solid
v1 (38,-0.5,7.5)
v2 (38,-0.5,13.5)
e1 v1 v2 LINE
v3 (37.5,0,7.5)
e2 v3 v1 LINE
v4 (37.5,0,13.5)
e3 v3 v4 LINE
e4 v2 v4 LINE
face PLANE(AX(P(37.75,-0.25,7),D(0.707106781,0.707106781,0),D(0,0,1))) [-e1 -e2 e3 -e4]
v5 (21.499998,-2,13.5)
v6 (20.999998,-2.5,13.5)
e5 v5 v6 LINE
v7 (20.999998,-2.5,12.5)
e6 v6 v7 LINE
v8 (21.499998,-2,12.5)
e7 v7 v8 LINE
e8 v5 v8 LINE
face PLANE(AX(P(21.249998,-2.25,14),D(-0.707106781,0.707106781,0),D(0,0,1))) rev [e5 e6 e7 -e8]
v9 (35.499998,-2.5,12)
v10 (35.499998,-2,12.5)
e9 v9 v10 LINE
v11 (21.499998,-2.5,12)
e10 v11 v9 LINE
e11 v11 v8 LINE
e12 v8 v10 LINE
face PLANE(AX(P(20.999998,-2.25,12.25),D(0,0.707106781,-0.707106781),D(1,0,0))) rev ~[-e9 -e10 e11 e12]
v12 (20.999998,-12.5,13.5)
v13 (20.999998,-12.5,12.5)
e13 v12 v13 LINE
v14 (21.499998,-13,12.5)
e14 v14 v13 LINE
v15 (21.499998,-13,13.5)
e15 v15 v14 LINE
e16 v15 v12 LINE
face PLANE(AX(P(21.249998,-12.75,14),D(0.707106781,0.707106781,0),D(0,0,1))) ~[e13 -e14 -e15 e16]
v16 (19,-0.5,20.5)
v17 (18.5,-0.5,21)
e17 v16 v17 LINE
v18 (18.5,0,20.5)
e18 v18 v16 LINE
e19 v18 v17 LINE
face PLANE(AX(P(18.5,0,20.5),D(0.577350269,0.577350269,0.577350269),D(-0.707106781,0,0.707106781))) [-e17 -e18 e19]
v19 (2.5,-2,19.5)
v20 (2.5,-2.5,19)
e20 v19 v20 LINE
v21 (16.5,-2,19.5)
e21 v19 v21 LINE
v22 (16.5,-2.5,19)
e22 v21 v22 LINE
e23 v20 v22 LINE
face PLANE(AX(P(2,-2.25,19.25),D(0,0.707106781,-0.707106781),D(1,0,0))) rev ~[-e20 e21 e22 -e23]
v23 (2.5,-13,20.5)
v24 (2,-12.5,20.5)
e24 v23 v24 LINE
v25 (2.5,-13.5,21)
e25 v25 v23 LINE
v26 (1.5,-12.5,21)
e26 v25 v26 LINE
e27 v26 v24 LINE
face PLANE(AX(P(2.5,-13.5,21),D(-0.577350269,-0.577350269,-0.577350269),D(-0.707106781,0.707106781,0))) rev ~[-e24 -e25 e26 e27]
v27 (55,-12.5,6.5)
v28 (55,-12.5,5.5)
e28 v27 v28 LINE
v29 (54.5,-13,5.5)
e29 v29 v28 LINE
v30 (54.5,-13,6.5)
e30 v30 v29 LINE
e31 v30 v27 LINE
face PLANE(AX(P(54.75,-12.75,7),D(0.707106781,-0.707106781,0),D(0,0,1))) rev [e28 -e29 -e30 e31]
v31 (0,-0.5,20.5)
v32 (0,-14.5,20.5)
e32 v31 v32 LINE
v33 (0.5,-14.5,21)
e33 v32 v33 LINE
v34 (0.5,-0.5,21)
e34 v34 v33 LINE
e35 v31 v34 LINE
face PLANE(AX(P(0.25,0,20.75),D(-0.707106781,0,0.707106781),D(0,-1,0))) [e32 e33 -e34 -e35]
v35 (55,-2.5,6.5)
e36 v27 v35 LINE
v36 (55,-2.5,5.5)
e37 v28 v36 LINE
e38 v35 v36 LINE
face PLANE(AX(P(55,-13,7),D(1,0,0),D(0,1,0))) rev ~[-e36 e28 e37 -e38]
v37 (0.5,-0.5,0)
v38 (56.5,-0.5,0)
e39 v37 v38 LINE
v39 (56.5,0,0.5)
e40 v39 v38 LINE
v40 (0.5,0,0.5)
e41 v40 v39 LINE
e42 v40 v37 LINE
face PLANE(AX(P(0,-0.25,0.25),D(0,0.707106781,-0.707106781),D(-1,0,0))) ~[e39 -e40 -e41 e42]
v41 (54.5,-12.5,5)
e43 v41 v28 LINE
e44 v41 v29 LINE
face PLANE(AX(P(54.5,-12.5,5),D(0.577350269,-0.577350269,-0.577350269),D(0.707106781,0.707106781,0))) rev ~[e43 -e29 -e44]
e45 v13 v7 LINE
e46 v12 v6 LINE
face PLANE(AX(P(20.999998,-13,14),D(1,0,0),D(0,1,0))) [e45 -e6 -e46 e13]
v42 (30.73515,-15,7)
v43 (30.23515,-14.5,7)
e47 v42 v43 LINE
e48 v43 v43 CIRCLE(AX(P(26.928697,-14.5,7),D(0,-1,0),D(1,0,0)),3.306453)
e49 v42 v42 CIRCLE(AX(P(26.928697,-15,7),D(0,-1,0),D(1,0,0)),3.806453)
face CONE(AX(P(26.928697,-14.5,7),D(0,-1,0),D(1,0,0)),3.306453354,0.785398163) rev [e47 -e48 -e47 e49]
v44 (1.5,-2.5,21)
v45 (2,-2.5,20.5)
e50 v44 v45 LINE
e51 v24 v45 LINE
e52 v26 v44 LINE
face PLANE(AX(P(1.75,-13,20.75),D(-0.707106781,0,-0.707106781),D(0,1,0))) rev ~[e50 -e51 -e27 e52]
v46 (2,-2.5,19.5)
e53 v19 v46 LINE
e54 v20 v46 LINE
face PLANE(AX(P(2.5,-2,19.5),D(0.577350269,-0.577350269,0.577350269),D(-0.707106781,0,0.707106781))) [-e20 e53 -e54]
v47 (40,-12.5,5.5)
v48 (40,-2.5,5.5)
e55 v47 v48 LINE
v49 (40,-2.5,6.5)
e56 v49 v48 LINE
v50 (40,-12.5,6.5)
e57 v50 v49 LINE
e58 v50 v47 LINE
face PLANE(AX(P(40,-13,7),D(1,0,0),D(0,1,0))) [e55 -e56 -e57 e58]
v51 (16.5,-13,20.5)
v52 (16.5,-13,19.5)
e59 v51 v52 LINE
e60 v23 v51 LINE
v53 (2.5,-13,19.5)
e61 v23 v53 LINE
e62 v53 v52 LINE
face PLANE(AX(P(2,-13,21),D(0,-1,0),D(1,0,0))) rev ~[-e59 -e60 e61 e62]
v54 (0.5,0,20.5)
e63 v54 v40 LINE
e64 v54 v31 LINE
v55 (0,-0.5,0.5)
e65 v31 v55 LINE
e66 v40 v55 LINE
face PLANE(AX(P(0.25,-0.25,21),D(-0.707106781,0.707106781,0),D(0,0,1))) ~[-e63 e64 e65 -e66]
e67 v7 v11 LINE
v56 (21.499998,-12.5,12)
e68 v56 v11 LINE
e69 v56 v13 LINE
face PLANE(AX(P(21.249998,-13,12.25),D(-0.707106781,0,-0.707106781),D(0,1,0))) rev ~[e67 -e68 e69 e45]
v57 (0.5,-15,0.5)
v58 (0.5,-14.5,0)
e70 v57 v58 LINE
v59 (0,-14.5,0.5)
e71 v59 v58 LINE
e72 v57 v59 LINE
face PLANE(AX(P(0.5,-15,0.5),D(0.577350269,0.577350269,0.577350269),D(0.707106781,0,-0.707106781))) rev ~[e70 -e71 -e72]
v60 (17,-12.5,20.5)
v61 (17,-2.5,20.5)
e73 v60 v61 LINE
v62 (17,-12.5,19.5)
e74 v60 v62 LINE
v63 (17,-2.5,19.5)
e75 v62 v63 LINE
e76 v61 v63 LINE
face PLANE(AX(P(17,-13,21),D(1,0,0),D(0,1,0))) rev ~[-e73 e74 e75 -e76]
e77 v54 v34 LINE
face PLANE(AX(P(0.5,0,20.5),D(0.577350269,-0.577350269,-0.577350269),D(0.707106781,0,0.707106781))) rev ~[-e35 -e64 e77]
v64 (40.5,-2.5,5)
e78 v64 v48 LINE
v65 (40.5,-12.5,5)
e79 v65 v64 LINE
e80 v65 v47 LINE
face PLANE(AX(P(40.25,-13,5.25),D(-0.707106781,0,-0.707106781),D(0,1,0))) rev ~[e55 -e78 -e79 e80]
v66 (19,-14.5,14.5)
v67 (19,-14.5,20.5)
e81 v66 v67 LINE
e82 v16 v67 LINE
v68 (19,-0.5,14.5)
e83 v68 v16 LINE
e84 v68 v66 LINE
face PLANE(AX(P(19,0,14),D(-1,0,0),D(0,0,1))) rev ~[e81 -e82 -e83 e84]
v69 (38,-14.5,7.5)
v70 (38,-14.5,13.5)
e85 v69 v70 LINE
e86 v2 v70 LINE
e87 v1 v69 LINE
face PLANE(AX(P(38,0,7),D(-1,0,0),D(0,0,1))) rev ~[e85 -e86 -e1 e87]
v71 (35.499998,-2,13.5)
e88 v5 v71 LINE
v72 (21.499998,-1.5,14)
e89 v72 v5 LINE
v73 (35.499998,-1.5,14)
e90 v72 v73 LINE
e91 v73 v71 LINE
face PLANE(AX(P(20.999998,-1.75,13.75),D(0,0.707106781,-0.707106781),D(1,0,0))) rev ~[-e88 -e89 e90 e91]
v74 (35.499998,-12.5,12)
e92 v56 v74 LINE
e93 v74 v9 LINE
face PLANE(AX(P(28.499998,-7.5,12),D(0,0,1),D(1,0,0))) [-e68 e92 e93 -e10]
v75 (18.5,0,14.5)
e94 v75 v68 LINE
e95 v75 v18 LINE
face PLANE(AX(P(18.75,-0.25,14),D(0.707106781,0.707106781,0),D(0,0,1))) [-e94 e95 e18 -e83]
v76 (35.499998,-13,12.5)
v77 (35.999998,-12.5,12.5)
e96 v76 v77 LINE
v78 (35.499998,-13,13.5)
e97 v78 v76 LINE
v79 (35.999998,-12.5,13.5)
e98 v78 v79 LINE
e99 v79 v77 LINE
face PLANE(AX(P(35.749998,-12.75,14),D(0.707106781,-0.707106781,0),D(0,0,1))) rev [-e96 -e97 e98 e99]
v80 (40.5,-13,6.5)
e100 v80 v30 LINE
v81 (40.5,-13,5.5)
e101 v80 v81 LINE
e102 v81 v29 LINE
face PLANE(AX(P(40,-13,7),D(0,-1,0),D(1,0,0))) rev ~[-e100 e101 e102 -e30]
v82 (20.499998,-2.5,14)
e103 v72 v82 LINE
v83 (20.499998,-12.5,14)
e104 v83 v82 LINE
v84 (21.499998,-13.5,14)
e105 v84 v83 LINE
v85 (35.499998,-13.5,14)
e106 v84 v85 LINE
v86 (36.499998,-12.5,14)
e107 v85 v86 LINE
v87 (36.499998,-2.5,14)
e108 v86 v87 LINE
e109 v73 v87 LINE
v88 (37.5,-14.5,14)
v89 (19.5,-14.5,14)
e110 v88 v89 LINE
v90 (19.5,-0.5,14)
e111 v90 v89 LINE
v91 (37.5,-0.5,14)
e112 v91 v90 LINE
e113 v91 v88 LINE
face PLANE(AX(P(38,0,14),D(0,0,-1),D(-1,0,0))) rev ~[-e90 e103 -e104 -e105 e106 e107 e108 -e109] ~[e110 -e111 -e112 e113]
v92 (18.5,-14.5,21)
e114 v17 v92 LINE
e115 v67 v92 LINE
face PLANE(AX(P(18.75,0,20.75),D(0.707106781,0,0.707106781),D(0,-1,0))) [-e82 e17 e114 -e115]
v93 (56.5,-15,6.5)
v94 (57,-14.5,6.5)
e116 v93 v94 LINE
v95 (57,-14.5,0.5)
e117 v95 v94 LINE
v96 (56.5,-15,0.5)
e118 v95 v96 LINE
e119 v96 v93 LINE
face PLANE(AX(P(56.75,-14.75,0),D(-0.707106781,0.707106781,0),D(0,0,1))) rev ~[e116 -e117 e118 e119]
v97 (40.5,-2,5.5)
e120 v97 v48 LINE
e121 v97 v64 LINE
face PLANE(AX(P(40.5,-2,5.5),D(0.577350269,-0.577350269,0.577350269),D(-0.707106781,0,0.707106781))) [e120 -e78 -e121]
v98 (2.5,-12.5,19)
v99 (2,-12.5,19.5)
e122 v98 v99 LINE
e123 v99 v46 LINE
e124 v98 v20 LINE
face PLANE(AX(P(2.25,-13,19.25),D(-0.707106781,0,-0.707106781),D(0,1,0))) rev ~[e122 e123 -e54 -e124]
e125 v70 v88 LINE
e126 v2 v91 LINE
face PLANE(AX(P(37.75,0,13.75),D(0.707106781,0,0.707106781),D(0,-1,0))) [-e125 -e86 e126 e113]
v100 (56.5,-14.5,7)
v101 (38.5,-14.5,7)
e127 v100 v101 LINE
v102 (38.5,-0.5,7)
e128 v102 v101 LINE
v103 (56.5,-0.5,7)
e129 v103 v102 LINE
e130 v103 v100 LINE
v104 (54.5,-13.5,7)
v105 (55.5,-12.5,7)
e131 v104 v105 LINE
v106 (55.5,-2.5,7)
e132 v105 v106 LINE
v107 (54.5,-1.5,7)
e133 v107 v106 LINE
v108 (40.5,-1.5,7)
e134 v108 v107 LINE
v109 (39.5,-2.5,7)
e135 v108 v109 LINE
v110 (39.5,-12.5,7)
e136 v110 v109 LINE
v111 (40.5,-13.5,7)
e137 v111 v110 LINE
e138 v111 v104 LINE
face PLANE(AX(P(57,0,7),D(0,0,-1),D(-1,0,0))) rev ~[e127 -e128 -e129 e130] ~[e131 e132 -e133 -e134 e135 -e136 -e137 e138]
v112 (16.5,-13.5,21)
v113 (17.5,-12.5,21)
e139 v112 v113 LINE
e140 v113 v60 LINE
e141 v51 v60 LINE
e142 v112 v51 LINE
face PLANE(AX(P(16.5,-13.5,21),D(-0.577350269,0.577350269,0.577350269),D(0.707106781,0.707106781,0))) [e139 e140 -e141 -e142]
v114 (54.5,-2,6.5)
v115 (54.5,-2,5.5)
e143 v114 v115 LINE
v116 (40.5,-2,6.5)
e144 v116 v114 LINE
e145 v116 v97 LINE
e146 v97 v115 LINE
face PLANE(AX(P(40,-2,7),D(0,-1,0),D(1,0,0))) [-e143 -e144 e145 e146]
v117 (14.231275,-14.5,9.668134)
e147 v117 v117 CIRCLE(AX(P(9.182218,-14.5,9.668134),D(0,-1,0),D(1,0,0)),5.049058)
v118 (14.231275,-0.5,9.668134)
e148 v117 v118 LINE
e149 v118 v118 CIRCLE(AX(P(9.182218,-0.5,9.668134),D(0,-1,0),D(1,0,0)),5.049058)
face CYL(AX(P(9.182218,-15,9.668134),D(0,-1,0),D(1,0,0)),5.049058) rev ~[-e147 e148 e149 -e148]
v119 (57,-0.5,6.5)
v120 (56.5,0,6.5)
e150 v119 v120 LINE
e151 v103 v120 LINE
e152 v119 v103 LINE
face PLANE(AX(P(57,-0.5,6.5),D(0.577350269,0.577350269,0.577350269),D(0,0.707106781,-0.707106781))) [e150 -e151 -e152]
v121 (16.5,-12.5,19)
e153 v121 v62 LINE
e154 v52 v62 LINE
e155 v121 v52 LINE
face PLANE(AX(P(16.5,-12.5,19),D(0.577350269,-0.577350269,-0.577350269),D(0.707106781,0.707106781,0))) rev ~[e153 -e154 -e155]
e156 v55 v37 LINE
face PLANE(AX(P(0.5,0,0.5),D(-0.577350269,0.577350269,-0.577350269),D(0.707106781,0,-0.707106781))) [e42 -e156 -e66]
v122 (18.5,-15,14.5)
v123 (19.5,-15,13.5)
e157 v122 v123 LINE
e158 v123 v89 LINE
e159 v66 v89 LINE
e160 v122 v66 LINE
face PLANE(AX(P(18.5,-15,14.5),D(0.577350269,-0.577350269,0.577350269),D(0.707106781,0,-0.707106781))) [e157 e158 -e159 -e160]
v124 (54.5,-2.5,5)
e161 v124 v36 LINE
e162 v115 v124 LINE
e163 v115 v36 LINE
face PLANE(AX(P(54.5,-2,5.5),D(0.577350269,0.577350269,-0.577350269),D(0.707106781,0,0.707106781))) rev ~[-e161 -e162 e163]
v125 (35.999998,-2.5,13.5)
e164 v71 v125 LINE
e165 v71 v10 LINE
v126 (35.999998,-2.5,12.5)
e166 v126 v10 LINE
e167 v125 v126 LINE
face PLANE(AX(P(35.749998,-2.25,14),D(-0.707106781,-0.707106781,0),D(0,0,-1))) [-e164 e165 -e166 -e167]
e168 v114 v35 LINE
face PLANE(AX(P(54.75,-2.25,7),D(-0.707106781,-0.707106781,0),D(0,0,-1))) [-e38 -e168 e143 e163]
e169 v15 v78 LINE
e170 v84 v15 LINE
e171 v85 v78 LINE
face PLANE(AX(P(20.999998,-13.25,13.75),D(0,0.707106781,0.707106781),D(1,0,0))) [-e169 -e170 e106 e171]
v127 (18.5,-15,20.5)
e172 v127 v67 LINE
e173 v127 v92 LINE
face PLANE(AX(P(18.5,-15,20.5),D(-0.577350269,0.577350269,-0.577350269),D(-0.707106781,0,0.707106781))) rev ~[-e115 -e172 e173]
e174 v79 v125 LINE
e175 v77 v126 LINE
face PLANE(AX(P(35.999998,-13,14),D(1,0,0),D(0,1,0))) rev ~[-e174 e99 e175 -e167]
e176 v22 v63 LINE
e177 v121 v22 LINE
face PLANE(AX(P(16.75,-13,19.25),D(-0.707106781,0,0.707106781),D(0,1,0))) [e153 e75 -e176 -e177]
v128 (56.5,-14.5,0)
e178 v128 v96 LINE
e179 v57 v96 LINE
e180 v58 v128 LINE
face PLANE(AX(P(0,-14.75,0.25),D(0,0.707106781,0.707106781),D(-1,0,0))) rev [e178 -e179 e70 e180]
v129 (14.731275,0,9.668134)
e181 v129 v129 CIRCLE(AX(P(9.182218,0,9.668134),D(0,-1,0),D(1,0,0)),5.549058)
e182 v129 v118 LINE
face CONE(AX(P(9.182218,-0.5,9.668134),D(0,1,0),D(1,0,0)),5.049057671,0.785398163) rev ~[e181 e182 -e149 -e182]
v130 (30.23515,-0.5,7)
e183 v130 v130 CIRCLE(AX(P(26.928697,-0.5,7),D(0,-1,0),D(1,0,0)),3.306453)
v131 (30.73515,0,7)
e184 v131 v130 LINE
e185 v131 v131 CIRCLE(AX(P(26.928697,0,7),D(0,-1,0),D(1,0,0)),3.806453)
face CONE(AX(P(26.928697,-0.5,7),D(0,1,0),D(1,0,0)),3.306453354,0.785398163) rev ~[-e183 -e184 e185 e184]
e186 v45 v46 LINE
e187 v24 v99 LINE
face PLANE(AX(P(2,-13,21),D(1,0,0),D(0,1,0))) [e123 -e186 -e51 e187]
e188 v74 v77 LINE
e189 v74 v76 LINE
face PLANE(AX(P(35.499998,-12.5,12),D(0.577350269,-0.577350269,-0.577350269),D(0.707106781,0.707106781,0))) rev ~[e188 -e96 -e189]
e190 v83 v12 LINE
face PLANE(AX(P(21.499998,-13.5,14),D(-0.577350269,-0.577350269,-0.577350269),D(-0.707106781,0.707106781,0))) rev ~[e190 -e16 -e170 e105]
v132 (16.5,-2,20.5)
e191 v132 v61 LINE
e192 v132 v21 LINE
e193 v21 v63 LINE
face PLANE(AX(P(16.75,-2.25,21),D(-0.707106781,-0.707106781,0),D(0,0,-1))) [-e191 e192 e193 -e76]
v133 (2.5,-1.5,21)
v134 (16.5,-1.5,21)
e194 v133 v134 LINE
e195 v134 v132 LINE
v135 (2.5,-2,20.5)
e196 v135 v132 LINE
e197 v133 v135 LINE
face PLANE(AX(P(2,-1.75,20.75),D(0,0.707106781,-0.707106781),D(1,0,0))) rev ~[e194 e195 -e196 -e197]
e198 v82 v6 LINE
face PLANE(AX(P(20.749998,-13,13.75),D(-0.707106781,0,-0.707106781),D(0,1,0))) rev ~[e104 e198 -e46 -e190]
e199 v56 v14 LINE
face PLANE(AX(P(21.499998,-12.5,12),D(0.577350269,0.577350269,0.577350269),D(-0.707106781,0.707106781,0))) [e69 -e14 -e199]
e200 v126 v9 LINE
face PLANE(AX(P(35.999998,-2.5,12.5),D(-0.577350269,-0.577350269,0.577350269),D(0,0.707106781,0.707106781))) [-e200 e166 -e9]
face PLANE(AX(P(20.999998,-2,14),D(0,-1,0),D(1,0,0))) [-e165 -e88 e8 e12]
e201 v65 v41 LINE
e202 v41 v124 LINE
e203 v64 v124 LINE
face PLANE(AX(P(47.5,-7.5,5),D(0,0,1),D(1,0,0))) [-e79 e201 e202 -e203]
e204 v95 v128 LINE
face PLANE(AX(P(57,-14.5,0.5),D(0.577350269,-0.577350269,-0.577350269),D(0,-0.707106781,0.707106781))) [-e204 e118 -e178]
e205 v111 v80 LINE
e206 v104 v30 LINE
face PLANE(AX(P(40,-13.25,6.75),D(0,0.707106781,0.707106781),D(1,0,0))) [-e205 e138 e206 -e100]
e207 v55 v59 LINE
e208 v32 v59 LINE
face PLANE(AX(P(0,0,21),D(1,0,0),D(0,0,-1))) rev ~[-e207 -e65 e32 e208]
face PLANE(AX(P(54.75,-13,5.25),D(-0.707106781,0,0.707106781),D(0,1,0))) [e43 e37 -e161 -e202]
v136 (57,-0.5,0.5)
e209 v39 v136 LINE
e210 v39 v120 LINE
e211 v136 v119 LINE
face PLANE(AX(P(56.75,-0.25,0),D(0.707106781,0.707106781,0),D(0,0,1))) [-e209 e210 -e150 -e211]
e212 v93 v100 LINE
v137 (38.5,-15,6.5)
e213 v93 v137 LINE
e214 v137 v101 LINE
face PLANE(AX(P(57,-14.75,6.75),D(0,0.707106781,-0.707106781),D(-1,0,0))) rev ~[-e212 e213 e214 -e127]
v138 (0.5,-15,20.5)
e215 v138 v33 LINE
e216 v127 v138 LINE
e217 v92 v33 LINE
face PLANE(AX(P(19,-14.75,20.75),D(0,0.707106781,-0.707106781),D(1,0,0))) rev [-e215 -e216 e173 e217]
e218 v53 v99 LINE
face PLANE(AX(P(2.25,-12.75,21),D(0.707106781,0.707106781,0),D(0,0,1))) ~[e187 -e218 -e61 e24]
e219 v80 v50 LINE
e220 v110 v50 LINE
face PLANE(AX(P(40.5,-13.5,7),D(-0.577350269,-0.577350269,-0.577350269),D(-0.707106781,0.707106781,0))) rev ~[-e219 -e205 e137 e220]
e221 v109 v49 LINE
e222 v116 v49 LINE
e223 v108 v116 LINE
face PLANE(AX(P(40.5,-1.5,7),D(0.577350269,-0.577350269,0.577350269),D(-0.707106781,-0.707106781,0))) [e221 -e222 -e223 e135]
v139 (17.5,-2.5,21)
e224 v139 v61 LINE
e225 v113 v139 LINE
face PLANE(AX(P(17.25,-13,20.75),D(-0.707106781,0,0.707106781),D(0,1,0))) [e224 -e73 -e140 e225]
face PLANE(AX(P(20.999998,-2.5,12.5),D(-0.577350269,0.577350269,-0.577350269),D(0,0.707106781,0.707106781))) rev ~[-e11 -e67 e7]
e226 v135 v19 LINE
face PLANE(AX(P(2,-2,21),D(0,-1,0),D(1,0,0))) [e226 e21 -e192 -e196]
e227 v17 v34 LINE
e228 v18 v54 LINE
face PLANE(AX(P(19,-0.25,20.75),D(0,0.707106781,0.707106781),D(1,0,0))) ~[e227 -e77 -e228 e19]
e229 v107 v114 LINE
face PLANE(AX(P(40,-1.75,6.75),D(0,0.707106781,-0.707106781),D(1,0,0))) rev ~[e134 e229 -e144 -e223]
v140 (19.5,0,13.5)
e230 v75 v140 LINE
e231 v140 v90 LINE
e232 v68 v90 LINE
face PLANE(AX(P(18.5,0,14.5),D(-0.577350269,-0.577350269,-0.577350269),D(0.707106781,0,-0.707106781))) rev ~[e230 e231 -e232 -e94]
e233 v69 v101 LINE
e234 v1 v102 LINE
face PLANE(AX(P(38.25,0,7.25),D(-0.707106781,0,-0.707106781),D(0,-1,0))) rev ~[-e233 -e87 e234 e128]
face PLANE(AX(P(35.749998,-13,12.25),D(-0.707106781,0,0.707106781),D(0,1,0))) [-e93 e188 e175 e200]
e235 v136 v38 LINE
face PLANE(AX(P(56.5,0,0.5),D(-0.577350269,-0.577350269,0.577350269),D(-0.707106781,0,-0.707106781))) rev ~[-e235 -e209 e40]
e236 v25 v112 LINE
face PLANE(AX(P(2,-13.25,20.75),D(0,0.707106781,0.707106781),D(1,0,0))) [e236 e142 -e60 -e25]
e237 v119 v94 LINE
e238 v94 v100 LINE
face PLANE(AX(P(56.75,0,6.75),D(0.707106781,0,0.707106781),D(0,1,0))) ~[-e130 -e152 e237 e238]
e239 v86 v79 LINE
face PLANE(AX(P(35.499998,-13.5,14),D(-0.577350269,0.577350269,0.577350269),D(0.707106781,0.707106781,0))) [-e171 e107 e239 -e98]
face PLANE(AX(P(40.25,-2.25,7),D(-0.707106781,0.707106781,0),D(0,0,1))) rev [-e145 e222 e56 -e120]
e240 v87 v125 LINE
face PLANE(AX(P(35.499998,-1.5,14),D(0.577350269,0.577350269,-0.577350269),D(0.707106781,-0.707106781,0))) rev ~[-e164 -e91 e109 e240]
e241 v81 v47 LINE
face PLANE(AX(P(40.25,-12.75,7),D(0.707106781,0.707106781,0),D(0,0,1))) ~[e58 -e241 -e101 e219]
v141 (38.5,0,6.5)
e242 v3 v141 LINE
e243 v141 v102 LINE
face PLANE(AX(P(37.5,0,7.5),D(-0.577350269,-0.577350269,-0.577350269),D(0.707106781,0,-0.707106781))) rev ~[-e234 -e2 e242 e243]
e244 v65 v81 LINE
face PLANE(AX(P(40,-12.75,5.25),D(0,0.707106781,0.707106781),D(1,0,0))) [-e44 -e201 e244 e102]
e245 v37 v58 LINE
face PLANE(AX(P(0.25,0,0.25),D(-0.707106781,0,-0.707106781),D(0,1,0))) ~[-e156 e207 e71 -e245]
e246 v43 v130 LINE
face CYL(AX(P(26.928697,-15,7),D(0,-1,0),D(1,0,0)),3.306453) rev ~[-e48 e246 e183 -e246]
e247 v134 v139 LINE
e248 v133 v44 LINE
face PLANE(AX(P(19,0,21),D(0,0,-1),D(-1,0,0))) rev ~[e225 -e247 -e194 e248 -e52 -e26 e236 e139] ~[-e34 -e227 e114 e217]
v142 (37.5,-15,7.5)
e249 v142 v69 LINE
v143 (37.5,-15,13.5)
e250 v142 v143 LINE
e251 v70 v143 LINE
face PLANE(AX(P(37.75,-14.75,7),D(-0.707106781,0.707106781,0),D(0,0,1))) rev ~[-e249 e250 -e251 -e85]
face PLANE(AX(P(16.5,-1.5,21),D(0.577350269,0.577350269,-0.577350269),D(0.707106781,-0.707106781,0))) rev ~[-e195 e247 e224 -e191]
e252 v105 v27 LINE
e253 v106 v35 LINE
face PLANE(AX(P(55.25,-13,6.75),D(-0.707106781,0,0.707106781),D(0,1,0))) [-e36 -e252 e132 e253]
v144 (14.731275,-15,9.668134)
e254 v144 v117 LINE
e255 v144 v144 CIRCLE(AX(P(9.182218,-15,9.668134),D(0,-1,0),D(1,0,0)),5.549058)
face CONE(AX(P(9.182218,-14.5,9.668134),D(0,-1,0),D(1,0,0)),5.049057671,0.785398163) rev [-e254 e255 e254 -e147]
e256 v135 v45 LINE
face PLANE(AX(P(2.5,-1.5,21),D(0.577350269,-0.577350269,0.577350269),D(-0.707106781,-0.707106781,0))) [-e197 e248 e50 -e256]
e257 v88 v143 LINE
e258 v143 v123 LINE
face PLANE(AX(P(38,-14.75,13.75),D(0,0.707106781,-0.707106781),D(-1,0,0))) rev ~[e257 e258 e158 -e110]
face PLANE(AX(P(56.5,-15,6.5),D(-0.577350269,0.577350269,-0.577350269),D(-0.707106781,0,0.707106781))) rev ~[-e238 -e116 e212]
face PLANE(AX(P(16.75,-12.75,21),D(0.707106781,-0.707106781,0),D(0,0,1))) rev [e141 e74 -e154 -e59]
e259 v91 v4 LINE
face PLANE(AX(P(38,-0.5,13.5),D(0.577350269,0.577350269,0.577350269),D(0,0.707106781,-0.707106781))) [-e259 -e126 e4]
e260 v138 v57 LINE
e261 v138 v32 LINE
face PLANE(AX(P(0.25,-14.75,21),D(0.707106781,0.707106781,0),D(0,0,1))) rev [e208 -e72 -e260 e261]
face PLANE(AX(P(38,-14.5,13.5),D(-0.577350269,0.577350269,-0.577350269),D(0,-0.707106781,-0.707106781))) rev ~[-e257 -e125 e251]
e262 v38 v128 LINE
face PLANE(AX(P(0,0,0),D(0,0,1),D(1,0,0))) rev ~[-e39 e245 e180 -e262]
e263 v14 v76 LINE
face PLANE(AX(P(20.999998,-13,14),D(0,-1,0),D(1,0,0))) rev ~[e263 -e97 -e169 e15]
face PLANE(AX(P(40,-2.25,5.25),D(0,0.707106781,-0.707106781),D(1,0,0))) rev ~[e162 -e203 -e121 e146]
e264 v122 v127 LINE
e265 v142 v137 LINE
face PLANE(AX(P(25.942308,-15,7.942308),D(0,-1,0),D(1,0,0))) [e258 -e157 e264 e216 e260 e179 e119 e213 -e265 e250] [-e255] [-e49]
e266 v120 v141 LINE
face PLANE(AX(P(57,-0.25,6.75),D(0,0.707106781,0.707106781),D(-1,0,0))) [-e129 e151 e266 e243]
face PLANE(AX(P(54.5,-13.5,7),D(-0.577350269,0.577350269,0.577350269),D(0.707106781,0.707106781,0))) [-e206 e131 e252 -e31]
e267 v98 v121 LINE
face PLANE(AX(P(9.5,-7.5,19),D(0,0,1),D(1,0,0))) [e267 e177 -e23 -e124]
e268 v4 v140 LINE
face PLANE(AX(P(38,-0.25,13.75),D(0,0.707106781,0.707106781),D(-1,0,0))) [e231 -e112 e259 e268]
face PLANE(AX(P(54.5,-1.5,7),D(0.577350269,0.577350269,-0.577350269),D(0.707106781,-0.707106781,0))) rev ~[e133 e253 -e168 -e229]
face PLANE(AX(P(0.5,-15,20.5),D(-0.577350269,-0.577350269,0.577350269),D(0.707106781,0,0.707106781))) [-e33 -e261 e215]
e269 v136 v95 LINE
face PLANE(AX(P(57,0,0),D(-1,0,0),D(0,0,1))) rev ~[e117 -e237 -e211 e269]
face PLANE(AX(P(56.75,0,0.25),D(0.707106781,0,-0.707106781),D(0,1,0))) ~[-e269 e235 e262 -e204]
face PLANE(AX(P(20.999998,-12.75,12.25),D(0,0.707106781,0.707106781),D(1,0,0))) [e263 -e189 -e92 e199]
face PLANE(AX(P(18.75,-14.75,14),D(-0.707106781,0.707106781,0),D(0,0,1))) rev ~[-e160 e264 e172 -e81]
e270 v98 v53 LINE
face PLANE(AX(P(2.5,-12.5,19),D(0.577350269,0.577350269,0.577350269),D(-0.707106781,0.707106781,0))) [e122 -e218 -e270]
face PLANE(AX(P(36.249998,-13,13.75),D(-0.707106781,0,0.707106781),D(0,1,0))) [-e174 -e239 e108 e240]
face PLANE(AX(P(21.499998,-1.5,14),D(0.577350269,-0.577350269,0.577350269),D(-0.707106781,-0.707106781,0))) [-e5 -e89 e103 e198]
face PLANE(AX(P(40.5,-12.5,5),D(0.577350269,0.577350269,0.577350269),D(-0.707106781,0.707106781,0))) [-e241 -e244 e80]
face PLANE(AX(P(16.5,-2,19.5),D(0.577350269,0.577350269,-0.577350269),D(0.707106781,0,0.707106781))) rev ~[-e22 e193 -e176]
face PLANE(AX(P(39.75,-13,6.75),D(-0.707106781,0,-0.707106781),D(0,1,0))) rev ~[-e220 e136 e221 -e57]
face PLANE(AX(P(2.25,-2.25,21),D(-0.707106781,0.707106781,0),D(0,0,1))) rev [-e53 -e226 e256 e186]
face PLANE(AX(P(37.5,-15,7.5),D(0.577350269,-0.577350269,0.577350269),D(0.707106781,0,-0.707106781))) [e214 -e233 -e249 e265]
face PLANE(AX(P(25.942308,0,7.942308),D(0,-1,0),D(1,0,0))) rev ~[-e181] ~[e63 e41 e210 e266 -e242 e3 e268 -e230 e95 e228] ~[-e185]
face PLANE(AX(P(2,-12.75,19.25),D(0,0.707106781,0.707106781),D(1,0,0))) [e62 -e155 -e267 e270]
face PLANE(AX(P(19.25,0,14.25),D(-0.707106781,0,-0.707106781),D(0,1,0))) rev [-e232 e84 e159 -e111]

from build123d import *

# Parameters (mm, degrees)
F1_DEPTH = 15
F2_W     = 15
F2_H     = 11
F3_DEPTH = 2
F4_W     = 15
F4_H     = 11
F5_DEPTH = 2
F6_W     = 15
F6_H     = 11
F7_DEPTH = 2
F8_R     = 5.0490576708
F8_R_2   = 3.3064533544
F9_DEPTH = 25
F10_SIZE = 0.5


with BuildPart() as f1:
    # F0 (on Front) → F1 (new body)
    with BuildSketch(Plane.XZ):
        Polygon((0, 21), (0, 0), (57, 0), (57, 7), (38, 7), (38, 14), (19, 14), (19, 21), align=None)
    extrude(amount=F1_DEPTH)

    # F2 (on face) → F3 (cut)
    with BuildSketch(Plane.XY.offset(21)):
        with Locations((9.5, -7.5)):
            Rectangle(F2_W, F2_H)
    extrude(amount=-F3_DEPTH, mode=Mode.SUBTRACT)

    # F4 (on face) → F5 (cut)
    with BuildSketch(Plane.XY.offset(14)):
        with Locations((28.4999978542, -7.5)):
            Rectangle(F4_W, F4_H)
    extrude(amount=-F5_DEPTH, mode=Mode.SUBTRACT)

    # F6 (on face) → F7 (cut)
    with BuildSketch(Plane.XY.offset(7)):
        with Locations((47.5, -7.5)):
            Rectangle(F6_W, F6_H)
    extrude(amount=-F7_DEPTH, mode=Mode.SUBTRACT)

    # F8 (on face) → F9 (cut)
    with BuildSketch(Plane.XZ.offset(15)):
        with Locations((9.1822175309, 9.6681341529)):
            Circle(F8_R)
        with Locations((26.9286967814, 7)):
            Circle(F8_R_2)
    extrude(amount=-F9_DEPTH, mode=Mode.SUBTRACT)

    # F10
    f10_edges = [f1.edges().sort_by_distance(p)[0] for p in [
        (28.5, 0, 14),
        (28.5, -15, 14),
        (47.5, 0, 7),
        (0, -7.5, 21),
        (0, -7.5, 0),
        (0, 0, 10.5),
        (0, -15, 10.5),
        (28.5, -15, 0),
        (19, -7.5, 14),
        (19, -7.5, 21),
        (19, 0, 17.5),
        (19, -15, 17.5),
        (38, -7.5, 7),
        (38, -7.5, 14),
        (38, 0, 10.5),
        (38, -15, 10.5),
        (57, -7.5, 0),
        (57, -7.5, 7),
        (57, 0, 3.5),
        (57, -15, 3.5),
        (4.13316, -15, 9.668134),
        (14.231275, -7.5, 9.668134),
        (4.13316, 0, 9.668134),
        (28.5, 0, 0),
        (47.5, -15, 7),
        (9.5, 0, 21),
        (9.5, -15, 21),
        (2, -13, 20),
        (17, -13, 20),
        (9.5, -13, 21),
        (9.5, -13, 19),
        (2, -7.5, 19),
        (17, -7.5, 19),
        (9.5, -2, 19),
        (17, -2, 20),
        (2, -2, 20),
        (9.5, -2, 21),
        (2, -7.5, 21),
        (17, -7.5, 21),
        (20.999998, -13, 13),
        (35.999998, -13, 13),
        (28.499998, -13, 14),
        (28.499998, -13, 12),
        (28.499998, -2, 12),
        (20.999998, -7.5, 12),
        (35.999998, -7.5, 12),
        (35.999998, -2, 13),
        (20.999998, -2, 13),
        (28.499998, -2, 14),
        (20.999998, -7.5, 14),
        (35.999998, -7.5, 14),
        (40, -13, 6),
        (55, -13, 6),
        (47.5, -13, 7),
        (47.5, -13, 5),
        (40, -7.5, 5),
        (55, -7.5, 5),
        (47.5, -2, 5),
        (55, -2, 6),
        (40, -2, 6),
        (47.5, -2, 7),
        (40, -7.5, 7),
        (55, -7.5, 7),
        (23.622243, -15, 7),
        (30.23515, -7.5, 7),
        (23.622243, 0, 7),
    ]]
    chamfer(f10_edges, length=F10_SIZE)


solid = f1.part
